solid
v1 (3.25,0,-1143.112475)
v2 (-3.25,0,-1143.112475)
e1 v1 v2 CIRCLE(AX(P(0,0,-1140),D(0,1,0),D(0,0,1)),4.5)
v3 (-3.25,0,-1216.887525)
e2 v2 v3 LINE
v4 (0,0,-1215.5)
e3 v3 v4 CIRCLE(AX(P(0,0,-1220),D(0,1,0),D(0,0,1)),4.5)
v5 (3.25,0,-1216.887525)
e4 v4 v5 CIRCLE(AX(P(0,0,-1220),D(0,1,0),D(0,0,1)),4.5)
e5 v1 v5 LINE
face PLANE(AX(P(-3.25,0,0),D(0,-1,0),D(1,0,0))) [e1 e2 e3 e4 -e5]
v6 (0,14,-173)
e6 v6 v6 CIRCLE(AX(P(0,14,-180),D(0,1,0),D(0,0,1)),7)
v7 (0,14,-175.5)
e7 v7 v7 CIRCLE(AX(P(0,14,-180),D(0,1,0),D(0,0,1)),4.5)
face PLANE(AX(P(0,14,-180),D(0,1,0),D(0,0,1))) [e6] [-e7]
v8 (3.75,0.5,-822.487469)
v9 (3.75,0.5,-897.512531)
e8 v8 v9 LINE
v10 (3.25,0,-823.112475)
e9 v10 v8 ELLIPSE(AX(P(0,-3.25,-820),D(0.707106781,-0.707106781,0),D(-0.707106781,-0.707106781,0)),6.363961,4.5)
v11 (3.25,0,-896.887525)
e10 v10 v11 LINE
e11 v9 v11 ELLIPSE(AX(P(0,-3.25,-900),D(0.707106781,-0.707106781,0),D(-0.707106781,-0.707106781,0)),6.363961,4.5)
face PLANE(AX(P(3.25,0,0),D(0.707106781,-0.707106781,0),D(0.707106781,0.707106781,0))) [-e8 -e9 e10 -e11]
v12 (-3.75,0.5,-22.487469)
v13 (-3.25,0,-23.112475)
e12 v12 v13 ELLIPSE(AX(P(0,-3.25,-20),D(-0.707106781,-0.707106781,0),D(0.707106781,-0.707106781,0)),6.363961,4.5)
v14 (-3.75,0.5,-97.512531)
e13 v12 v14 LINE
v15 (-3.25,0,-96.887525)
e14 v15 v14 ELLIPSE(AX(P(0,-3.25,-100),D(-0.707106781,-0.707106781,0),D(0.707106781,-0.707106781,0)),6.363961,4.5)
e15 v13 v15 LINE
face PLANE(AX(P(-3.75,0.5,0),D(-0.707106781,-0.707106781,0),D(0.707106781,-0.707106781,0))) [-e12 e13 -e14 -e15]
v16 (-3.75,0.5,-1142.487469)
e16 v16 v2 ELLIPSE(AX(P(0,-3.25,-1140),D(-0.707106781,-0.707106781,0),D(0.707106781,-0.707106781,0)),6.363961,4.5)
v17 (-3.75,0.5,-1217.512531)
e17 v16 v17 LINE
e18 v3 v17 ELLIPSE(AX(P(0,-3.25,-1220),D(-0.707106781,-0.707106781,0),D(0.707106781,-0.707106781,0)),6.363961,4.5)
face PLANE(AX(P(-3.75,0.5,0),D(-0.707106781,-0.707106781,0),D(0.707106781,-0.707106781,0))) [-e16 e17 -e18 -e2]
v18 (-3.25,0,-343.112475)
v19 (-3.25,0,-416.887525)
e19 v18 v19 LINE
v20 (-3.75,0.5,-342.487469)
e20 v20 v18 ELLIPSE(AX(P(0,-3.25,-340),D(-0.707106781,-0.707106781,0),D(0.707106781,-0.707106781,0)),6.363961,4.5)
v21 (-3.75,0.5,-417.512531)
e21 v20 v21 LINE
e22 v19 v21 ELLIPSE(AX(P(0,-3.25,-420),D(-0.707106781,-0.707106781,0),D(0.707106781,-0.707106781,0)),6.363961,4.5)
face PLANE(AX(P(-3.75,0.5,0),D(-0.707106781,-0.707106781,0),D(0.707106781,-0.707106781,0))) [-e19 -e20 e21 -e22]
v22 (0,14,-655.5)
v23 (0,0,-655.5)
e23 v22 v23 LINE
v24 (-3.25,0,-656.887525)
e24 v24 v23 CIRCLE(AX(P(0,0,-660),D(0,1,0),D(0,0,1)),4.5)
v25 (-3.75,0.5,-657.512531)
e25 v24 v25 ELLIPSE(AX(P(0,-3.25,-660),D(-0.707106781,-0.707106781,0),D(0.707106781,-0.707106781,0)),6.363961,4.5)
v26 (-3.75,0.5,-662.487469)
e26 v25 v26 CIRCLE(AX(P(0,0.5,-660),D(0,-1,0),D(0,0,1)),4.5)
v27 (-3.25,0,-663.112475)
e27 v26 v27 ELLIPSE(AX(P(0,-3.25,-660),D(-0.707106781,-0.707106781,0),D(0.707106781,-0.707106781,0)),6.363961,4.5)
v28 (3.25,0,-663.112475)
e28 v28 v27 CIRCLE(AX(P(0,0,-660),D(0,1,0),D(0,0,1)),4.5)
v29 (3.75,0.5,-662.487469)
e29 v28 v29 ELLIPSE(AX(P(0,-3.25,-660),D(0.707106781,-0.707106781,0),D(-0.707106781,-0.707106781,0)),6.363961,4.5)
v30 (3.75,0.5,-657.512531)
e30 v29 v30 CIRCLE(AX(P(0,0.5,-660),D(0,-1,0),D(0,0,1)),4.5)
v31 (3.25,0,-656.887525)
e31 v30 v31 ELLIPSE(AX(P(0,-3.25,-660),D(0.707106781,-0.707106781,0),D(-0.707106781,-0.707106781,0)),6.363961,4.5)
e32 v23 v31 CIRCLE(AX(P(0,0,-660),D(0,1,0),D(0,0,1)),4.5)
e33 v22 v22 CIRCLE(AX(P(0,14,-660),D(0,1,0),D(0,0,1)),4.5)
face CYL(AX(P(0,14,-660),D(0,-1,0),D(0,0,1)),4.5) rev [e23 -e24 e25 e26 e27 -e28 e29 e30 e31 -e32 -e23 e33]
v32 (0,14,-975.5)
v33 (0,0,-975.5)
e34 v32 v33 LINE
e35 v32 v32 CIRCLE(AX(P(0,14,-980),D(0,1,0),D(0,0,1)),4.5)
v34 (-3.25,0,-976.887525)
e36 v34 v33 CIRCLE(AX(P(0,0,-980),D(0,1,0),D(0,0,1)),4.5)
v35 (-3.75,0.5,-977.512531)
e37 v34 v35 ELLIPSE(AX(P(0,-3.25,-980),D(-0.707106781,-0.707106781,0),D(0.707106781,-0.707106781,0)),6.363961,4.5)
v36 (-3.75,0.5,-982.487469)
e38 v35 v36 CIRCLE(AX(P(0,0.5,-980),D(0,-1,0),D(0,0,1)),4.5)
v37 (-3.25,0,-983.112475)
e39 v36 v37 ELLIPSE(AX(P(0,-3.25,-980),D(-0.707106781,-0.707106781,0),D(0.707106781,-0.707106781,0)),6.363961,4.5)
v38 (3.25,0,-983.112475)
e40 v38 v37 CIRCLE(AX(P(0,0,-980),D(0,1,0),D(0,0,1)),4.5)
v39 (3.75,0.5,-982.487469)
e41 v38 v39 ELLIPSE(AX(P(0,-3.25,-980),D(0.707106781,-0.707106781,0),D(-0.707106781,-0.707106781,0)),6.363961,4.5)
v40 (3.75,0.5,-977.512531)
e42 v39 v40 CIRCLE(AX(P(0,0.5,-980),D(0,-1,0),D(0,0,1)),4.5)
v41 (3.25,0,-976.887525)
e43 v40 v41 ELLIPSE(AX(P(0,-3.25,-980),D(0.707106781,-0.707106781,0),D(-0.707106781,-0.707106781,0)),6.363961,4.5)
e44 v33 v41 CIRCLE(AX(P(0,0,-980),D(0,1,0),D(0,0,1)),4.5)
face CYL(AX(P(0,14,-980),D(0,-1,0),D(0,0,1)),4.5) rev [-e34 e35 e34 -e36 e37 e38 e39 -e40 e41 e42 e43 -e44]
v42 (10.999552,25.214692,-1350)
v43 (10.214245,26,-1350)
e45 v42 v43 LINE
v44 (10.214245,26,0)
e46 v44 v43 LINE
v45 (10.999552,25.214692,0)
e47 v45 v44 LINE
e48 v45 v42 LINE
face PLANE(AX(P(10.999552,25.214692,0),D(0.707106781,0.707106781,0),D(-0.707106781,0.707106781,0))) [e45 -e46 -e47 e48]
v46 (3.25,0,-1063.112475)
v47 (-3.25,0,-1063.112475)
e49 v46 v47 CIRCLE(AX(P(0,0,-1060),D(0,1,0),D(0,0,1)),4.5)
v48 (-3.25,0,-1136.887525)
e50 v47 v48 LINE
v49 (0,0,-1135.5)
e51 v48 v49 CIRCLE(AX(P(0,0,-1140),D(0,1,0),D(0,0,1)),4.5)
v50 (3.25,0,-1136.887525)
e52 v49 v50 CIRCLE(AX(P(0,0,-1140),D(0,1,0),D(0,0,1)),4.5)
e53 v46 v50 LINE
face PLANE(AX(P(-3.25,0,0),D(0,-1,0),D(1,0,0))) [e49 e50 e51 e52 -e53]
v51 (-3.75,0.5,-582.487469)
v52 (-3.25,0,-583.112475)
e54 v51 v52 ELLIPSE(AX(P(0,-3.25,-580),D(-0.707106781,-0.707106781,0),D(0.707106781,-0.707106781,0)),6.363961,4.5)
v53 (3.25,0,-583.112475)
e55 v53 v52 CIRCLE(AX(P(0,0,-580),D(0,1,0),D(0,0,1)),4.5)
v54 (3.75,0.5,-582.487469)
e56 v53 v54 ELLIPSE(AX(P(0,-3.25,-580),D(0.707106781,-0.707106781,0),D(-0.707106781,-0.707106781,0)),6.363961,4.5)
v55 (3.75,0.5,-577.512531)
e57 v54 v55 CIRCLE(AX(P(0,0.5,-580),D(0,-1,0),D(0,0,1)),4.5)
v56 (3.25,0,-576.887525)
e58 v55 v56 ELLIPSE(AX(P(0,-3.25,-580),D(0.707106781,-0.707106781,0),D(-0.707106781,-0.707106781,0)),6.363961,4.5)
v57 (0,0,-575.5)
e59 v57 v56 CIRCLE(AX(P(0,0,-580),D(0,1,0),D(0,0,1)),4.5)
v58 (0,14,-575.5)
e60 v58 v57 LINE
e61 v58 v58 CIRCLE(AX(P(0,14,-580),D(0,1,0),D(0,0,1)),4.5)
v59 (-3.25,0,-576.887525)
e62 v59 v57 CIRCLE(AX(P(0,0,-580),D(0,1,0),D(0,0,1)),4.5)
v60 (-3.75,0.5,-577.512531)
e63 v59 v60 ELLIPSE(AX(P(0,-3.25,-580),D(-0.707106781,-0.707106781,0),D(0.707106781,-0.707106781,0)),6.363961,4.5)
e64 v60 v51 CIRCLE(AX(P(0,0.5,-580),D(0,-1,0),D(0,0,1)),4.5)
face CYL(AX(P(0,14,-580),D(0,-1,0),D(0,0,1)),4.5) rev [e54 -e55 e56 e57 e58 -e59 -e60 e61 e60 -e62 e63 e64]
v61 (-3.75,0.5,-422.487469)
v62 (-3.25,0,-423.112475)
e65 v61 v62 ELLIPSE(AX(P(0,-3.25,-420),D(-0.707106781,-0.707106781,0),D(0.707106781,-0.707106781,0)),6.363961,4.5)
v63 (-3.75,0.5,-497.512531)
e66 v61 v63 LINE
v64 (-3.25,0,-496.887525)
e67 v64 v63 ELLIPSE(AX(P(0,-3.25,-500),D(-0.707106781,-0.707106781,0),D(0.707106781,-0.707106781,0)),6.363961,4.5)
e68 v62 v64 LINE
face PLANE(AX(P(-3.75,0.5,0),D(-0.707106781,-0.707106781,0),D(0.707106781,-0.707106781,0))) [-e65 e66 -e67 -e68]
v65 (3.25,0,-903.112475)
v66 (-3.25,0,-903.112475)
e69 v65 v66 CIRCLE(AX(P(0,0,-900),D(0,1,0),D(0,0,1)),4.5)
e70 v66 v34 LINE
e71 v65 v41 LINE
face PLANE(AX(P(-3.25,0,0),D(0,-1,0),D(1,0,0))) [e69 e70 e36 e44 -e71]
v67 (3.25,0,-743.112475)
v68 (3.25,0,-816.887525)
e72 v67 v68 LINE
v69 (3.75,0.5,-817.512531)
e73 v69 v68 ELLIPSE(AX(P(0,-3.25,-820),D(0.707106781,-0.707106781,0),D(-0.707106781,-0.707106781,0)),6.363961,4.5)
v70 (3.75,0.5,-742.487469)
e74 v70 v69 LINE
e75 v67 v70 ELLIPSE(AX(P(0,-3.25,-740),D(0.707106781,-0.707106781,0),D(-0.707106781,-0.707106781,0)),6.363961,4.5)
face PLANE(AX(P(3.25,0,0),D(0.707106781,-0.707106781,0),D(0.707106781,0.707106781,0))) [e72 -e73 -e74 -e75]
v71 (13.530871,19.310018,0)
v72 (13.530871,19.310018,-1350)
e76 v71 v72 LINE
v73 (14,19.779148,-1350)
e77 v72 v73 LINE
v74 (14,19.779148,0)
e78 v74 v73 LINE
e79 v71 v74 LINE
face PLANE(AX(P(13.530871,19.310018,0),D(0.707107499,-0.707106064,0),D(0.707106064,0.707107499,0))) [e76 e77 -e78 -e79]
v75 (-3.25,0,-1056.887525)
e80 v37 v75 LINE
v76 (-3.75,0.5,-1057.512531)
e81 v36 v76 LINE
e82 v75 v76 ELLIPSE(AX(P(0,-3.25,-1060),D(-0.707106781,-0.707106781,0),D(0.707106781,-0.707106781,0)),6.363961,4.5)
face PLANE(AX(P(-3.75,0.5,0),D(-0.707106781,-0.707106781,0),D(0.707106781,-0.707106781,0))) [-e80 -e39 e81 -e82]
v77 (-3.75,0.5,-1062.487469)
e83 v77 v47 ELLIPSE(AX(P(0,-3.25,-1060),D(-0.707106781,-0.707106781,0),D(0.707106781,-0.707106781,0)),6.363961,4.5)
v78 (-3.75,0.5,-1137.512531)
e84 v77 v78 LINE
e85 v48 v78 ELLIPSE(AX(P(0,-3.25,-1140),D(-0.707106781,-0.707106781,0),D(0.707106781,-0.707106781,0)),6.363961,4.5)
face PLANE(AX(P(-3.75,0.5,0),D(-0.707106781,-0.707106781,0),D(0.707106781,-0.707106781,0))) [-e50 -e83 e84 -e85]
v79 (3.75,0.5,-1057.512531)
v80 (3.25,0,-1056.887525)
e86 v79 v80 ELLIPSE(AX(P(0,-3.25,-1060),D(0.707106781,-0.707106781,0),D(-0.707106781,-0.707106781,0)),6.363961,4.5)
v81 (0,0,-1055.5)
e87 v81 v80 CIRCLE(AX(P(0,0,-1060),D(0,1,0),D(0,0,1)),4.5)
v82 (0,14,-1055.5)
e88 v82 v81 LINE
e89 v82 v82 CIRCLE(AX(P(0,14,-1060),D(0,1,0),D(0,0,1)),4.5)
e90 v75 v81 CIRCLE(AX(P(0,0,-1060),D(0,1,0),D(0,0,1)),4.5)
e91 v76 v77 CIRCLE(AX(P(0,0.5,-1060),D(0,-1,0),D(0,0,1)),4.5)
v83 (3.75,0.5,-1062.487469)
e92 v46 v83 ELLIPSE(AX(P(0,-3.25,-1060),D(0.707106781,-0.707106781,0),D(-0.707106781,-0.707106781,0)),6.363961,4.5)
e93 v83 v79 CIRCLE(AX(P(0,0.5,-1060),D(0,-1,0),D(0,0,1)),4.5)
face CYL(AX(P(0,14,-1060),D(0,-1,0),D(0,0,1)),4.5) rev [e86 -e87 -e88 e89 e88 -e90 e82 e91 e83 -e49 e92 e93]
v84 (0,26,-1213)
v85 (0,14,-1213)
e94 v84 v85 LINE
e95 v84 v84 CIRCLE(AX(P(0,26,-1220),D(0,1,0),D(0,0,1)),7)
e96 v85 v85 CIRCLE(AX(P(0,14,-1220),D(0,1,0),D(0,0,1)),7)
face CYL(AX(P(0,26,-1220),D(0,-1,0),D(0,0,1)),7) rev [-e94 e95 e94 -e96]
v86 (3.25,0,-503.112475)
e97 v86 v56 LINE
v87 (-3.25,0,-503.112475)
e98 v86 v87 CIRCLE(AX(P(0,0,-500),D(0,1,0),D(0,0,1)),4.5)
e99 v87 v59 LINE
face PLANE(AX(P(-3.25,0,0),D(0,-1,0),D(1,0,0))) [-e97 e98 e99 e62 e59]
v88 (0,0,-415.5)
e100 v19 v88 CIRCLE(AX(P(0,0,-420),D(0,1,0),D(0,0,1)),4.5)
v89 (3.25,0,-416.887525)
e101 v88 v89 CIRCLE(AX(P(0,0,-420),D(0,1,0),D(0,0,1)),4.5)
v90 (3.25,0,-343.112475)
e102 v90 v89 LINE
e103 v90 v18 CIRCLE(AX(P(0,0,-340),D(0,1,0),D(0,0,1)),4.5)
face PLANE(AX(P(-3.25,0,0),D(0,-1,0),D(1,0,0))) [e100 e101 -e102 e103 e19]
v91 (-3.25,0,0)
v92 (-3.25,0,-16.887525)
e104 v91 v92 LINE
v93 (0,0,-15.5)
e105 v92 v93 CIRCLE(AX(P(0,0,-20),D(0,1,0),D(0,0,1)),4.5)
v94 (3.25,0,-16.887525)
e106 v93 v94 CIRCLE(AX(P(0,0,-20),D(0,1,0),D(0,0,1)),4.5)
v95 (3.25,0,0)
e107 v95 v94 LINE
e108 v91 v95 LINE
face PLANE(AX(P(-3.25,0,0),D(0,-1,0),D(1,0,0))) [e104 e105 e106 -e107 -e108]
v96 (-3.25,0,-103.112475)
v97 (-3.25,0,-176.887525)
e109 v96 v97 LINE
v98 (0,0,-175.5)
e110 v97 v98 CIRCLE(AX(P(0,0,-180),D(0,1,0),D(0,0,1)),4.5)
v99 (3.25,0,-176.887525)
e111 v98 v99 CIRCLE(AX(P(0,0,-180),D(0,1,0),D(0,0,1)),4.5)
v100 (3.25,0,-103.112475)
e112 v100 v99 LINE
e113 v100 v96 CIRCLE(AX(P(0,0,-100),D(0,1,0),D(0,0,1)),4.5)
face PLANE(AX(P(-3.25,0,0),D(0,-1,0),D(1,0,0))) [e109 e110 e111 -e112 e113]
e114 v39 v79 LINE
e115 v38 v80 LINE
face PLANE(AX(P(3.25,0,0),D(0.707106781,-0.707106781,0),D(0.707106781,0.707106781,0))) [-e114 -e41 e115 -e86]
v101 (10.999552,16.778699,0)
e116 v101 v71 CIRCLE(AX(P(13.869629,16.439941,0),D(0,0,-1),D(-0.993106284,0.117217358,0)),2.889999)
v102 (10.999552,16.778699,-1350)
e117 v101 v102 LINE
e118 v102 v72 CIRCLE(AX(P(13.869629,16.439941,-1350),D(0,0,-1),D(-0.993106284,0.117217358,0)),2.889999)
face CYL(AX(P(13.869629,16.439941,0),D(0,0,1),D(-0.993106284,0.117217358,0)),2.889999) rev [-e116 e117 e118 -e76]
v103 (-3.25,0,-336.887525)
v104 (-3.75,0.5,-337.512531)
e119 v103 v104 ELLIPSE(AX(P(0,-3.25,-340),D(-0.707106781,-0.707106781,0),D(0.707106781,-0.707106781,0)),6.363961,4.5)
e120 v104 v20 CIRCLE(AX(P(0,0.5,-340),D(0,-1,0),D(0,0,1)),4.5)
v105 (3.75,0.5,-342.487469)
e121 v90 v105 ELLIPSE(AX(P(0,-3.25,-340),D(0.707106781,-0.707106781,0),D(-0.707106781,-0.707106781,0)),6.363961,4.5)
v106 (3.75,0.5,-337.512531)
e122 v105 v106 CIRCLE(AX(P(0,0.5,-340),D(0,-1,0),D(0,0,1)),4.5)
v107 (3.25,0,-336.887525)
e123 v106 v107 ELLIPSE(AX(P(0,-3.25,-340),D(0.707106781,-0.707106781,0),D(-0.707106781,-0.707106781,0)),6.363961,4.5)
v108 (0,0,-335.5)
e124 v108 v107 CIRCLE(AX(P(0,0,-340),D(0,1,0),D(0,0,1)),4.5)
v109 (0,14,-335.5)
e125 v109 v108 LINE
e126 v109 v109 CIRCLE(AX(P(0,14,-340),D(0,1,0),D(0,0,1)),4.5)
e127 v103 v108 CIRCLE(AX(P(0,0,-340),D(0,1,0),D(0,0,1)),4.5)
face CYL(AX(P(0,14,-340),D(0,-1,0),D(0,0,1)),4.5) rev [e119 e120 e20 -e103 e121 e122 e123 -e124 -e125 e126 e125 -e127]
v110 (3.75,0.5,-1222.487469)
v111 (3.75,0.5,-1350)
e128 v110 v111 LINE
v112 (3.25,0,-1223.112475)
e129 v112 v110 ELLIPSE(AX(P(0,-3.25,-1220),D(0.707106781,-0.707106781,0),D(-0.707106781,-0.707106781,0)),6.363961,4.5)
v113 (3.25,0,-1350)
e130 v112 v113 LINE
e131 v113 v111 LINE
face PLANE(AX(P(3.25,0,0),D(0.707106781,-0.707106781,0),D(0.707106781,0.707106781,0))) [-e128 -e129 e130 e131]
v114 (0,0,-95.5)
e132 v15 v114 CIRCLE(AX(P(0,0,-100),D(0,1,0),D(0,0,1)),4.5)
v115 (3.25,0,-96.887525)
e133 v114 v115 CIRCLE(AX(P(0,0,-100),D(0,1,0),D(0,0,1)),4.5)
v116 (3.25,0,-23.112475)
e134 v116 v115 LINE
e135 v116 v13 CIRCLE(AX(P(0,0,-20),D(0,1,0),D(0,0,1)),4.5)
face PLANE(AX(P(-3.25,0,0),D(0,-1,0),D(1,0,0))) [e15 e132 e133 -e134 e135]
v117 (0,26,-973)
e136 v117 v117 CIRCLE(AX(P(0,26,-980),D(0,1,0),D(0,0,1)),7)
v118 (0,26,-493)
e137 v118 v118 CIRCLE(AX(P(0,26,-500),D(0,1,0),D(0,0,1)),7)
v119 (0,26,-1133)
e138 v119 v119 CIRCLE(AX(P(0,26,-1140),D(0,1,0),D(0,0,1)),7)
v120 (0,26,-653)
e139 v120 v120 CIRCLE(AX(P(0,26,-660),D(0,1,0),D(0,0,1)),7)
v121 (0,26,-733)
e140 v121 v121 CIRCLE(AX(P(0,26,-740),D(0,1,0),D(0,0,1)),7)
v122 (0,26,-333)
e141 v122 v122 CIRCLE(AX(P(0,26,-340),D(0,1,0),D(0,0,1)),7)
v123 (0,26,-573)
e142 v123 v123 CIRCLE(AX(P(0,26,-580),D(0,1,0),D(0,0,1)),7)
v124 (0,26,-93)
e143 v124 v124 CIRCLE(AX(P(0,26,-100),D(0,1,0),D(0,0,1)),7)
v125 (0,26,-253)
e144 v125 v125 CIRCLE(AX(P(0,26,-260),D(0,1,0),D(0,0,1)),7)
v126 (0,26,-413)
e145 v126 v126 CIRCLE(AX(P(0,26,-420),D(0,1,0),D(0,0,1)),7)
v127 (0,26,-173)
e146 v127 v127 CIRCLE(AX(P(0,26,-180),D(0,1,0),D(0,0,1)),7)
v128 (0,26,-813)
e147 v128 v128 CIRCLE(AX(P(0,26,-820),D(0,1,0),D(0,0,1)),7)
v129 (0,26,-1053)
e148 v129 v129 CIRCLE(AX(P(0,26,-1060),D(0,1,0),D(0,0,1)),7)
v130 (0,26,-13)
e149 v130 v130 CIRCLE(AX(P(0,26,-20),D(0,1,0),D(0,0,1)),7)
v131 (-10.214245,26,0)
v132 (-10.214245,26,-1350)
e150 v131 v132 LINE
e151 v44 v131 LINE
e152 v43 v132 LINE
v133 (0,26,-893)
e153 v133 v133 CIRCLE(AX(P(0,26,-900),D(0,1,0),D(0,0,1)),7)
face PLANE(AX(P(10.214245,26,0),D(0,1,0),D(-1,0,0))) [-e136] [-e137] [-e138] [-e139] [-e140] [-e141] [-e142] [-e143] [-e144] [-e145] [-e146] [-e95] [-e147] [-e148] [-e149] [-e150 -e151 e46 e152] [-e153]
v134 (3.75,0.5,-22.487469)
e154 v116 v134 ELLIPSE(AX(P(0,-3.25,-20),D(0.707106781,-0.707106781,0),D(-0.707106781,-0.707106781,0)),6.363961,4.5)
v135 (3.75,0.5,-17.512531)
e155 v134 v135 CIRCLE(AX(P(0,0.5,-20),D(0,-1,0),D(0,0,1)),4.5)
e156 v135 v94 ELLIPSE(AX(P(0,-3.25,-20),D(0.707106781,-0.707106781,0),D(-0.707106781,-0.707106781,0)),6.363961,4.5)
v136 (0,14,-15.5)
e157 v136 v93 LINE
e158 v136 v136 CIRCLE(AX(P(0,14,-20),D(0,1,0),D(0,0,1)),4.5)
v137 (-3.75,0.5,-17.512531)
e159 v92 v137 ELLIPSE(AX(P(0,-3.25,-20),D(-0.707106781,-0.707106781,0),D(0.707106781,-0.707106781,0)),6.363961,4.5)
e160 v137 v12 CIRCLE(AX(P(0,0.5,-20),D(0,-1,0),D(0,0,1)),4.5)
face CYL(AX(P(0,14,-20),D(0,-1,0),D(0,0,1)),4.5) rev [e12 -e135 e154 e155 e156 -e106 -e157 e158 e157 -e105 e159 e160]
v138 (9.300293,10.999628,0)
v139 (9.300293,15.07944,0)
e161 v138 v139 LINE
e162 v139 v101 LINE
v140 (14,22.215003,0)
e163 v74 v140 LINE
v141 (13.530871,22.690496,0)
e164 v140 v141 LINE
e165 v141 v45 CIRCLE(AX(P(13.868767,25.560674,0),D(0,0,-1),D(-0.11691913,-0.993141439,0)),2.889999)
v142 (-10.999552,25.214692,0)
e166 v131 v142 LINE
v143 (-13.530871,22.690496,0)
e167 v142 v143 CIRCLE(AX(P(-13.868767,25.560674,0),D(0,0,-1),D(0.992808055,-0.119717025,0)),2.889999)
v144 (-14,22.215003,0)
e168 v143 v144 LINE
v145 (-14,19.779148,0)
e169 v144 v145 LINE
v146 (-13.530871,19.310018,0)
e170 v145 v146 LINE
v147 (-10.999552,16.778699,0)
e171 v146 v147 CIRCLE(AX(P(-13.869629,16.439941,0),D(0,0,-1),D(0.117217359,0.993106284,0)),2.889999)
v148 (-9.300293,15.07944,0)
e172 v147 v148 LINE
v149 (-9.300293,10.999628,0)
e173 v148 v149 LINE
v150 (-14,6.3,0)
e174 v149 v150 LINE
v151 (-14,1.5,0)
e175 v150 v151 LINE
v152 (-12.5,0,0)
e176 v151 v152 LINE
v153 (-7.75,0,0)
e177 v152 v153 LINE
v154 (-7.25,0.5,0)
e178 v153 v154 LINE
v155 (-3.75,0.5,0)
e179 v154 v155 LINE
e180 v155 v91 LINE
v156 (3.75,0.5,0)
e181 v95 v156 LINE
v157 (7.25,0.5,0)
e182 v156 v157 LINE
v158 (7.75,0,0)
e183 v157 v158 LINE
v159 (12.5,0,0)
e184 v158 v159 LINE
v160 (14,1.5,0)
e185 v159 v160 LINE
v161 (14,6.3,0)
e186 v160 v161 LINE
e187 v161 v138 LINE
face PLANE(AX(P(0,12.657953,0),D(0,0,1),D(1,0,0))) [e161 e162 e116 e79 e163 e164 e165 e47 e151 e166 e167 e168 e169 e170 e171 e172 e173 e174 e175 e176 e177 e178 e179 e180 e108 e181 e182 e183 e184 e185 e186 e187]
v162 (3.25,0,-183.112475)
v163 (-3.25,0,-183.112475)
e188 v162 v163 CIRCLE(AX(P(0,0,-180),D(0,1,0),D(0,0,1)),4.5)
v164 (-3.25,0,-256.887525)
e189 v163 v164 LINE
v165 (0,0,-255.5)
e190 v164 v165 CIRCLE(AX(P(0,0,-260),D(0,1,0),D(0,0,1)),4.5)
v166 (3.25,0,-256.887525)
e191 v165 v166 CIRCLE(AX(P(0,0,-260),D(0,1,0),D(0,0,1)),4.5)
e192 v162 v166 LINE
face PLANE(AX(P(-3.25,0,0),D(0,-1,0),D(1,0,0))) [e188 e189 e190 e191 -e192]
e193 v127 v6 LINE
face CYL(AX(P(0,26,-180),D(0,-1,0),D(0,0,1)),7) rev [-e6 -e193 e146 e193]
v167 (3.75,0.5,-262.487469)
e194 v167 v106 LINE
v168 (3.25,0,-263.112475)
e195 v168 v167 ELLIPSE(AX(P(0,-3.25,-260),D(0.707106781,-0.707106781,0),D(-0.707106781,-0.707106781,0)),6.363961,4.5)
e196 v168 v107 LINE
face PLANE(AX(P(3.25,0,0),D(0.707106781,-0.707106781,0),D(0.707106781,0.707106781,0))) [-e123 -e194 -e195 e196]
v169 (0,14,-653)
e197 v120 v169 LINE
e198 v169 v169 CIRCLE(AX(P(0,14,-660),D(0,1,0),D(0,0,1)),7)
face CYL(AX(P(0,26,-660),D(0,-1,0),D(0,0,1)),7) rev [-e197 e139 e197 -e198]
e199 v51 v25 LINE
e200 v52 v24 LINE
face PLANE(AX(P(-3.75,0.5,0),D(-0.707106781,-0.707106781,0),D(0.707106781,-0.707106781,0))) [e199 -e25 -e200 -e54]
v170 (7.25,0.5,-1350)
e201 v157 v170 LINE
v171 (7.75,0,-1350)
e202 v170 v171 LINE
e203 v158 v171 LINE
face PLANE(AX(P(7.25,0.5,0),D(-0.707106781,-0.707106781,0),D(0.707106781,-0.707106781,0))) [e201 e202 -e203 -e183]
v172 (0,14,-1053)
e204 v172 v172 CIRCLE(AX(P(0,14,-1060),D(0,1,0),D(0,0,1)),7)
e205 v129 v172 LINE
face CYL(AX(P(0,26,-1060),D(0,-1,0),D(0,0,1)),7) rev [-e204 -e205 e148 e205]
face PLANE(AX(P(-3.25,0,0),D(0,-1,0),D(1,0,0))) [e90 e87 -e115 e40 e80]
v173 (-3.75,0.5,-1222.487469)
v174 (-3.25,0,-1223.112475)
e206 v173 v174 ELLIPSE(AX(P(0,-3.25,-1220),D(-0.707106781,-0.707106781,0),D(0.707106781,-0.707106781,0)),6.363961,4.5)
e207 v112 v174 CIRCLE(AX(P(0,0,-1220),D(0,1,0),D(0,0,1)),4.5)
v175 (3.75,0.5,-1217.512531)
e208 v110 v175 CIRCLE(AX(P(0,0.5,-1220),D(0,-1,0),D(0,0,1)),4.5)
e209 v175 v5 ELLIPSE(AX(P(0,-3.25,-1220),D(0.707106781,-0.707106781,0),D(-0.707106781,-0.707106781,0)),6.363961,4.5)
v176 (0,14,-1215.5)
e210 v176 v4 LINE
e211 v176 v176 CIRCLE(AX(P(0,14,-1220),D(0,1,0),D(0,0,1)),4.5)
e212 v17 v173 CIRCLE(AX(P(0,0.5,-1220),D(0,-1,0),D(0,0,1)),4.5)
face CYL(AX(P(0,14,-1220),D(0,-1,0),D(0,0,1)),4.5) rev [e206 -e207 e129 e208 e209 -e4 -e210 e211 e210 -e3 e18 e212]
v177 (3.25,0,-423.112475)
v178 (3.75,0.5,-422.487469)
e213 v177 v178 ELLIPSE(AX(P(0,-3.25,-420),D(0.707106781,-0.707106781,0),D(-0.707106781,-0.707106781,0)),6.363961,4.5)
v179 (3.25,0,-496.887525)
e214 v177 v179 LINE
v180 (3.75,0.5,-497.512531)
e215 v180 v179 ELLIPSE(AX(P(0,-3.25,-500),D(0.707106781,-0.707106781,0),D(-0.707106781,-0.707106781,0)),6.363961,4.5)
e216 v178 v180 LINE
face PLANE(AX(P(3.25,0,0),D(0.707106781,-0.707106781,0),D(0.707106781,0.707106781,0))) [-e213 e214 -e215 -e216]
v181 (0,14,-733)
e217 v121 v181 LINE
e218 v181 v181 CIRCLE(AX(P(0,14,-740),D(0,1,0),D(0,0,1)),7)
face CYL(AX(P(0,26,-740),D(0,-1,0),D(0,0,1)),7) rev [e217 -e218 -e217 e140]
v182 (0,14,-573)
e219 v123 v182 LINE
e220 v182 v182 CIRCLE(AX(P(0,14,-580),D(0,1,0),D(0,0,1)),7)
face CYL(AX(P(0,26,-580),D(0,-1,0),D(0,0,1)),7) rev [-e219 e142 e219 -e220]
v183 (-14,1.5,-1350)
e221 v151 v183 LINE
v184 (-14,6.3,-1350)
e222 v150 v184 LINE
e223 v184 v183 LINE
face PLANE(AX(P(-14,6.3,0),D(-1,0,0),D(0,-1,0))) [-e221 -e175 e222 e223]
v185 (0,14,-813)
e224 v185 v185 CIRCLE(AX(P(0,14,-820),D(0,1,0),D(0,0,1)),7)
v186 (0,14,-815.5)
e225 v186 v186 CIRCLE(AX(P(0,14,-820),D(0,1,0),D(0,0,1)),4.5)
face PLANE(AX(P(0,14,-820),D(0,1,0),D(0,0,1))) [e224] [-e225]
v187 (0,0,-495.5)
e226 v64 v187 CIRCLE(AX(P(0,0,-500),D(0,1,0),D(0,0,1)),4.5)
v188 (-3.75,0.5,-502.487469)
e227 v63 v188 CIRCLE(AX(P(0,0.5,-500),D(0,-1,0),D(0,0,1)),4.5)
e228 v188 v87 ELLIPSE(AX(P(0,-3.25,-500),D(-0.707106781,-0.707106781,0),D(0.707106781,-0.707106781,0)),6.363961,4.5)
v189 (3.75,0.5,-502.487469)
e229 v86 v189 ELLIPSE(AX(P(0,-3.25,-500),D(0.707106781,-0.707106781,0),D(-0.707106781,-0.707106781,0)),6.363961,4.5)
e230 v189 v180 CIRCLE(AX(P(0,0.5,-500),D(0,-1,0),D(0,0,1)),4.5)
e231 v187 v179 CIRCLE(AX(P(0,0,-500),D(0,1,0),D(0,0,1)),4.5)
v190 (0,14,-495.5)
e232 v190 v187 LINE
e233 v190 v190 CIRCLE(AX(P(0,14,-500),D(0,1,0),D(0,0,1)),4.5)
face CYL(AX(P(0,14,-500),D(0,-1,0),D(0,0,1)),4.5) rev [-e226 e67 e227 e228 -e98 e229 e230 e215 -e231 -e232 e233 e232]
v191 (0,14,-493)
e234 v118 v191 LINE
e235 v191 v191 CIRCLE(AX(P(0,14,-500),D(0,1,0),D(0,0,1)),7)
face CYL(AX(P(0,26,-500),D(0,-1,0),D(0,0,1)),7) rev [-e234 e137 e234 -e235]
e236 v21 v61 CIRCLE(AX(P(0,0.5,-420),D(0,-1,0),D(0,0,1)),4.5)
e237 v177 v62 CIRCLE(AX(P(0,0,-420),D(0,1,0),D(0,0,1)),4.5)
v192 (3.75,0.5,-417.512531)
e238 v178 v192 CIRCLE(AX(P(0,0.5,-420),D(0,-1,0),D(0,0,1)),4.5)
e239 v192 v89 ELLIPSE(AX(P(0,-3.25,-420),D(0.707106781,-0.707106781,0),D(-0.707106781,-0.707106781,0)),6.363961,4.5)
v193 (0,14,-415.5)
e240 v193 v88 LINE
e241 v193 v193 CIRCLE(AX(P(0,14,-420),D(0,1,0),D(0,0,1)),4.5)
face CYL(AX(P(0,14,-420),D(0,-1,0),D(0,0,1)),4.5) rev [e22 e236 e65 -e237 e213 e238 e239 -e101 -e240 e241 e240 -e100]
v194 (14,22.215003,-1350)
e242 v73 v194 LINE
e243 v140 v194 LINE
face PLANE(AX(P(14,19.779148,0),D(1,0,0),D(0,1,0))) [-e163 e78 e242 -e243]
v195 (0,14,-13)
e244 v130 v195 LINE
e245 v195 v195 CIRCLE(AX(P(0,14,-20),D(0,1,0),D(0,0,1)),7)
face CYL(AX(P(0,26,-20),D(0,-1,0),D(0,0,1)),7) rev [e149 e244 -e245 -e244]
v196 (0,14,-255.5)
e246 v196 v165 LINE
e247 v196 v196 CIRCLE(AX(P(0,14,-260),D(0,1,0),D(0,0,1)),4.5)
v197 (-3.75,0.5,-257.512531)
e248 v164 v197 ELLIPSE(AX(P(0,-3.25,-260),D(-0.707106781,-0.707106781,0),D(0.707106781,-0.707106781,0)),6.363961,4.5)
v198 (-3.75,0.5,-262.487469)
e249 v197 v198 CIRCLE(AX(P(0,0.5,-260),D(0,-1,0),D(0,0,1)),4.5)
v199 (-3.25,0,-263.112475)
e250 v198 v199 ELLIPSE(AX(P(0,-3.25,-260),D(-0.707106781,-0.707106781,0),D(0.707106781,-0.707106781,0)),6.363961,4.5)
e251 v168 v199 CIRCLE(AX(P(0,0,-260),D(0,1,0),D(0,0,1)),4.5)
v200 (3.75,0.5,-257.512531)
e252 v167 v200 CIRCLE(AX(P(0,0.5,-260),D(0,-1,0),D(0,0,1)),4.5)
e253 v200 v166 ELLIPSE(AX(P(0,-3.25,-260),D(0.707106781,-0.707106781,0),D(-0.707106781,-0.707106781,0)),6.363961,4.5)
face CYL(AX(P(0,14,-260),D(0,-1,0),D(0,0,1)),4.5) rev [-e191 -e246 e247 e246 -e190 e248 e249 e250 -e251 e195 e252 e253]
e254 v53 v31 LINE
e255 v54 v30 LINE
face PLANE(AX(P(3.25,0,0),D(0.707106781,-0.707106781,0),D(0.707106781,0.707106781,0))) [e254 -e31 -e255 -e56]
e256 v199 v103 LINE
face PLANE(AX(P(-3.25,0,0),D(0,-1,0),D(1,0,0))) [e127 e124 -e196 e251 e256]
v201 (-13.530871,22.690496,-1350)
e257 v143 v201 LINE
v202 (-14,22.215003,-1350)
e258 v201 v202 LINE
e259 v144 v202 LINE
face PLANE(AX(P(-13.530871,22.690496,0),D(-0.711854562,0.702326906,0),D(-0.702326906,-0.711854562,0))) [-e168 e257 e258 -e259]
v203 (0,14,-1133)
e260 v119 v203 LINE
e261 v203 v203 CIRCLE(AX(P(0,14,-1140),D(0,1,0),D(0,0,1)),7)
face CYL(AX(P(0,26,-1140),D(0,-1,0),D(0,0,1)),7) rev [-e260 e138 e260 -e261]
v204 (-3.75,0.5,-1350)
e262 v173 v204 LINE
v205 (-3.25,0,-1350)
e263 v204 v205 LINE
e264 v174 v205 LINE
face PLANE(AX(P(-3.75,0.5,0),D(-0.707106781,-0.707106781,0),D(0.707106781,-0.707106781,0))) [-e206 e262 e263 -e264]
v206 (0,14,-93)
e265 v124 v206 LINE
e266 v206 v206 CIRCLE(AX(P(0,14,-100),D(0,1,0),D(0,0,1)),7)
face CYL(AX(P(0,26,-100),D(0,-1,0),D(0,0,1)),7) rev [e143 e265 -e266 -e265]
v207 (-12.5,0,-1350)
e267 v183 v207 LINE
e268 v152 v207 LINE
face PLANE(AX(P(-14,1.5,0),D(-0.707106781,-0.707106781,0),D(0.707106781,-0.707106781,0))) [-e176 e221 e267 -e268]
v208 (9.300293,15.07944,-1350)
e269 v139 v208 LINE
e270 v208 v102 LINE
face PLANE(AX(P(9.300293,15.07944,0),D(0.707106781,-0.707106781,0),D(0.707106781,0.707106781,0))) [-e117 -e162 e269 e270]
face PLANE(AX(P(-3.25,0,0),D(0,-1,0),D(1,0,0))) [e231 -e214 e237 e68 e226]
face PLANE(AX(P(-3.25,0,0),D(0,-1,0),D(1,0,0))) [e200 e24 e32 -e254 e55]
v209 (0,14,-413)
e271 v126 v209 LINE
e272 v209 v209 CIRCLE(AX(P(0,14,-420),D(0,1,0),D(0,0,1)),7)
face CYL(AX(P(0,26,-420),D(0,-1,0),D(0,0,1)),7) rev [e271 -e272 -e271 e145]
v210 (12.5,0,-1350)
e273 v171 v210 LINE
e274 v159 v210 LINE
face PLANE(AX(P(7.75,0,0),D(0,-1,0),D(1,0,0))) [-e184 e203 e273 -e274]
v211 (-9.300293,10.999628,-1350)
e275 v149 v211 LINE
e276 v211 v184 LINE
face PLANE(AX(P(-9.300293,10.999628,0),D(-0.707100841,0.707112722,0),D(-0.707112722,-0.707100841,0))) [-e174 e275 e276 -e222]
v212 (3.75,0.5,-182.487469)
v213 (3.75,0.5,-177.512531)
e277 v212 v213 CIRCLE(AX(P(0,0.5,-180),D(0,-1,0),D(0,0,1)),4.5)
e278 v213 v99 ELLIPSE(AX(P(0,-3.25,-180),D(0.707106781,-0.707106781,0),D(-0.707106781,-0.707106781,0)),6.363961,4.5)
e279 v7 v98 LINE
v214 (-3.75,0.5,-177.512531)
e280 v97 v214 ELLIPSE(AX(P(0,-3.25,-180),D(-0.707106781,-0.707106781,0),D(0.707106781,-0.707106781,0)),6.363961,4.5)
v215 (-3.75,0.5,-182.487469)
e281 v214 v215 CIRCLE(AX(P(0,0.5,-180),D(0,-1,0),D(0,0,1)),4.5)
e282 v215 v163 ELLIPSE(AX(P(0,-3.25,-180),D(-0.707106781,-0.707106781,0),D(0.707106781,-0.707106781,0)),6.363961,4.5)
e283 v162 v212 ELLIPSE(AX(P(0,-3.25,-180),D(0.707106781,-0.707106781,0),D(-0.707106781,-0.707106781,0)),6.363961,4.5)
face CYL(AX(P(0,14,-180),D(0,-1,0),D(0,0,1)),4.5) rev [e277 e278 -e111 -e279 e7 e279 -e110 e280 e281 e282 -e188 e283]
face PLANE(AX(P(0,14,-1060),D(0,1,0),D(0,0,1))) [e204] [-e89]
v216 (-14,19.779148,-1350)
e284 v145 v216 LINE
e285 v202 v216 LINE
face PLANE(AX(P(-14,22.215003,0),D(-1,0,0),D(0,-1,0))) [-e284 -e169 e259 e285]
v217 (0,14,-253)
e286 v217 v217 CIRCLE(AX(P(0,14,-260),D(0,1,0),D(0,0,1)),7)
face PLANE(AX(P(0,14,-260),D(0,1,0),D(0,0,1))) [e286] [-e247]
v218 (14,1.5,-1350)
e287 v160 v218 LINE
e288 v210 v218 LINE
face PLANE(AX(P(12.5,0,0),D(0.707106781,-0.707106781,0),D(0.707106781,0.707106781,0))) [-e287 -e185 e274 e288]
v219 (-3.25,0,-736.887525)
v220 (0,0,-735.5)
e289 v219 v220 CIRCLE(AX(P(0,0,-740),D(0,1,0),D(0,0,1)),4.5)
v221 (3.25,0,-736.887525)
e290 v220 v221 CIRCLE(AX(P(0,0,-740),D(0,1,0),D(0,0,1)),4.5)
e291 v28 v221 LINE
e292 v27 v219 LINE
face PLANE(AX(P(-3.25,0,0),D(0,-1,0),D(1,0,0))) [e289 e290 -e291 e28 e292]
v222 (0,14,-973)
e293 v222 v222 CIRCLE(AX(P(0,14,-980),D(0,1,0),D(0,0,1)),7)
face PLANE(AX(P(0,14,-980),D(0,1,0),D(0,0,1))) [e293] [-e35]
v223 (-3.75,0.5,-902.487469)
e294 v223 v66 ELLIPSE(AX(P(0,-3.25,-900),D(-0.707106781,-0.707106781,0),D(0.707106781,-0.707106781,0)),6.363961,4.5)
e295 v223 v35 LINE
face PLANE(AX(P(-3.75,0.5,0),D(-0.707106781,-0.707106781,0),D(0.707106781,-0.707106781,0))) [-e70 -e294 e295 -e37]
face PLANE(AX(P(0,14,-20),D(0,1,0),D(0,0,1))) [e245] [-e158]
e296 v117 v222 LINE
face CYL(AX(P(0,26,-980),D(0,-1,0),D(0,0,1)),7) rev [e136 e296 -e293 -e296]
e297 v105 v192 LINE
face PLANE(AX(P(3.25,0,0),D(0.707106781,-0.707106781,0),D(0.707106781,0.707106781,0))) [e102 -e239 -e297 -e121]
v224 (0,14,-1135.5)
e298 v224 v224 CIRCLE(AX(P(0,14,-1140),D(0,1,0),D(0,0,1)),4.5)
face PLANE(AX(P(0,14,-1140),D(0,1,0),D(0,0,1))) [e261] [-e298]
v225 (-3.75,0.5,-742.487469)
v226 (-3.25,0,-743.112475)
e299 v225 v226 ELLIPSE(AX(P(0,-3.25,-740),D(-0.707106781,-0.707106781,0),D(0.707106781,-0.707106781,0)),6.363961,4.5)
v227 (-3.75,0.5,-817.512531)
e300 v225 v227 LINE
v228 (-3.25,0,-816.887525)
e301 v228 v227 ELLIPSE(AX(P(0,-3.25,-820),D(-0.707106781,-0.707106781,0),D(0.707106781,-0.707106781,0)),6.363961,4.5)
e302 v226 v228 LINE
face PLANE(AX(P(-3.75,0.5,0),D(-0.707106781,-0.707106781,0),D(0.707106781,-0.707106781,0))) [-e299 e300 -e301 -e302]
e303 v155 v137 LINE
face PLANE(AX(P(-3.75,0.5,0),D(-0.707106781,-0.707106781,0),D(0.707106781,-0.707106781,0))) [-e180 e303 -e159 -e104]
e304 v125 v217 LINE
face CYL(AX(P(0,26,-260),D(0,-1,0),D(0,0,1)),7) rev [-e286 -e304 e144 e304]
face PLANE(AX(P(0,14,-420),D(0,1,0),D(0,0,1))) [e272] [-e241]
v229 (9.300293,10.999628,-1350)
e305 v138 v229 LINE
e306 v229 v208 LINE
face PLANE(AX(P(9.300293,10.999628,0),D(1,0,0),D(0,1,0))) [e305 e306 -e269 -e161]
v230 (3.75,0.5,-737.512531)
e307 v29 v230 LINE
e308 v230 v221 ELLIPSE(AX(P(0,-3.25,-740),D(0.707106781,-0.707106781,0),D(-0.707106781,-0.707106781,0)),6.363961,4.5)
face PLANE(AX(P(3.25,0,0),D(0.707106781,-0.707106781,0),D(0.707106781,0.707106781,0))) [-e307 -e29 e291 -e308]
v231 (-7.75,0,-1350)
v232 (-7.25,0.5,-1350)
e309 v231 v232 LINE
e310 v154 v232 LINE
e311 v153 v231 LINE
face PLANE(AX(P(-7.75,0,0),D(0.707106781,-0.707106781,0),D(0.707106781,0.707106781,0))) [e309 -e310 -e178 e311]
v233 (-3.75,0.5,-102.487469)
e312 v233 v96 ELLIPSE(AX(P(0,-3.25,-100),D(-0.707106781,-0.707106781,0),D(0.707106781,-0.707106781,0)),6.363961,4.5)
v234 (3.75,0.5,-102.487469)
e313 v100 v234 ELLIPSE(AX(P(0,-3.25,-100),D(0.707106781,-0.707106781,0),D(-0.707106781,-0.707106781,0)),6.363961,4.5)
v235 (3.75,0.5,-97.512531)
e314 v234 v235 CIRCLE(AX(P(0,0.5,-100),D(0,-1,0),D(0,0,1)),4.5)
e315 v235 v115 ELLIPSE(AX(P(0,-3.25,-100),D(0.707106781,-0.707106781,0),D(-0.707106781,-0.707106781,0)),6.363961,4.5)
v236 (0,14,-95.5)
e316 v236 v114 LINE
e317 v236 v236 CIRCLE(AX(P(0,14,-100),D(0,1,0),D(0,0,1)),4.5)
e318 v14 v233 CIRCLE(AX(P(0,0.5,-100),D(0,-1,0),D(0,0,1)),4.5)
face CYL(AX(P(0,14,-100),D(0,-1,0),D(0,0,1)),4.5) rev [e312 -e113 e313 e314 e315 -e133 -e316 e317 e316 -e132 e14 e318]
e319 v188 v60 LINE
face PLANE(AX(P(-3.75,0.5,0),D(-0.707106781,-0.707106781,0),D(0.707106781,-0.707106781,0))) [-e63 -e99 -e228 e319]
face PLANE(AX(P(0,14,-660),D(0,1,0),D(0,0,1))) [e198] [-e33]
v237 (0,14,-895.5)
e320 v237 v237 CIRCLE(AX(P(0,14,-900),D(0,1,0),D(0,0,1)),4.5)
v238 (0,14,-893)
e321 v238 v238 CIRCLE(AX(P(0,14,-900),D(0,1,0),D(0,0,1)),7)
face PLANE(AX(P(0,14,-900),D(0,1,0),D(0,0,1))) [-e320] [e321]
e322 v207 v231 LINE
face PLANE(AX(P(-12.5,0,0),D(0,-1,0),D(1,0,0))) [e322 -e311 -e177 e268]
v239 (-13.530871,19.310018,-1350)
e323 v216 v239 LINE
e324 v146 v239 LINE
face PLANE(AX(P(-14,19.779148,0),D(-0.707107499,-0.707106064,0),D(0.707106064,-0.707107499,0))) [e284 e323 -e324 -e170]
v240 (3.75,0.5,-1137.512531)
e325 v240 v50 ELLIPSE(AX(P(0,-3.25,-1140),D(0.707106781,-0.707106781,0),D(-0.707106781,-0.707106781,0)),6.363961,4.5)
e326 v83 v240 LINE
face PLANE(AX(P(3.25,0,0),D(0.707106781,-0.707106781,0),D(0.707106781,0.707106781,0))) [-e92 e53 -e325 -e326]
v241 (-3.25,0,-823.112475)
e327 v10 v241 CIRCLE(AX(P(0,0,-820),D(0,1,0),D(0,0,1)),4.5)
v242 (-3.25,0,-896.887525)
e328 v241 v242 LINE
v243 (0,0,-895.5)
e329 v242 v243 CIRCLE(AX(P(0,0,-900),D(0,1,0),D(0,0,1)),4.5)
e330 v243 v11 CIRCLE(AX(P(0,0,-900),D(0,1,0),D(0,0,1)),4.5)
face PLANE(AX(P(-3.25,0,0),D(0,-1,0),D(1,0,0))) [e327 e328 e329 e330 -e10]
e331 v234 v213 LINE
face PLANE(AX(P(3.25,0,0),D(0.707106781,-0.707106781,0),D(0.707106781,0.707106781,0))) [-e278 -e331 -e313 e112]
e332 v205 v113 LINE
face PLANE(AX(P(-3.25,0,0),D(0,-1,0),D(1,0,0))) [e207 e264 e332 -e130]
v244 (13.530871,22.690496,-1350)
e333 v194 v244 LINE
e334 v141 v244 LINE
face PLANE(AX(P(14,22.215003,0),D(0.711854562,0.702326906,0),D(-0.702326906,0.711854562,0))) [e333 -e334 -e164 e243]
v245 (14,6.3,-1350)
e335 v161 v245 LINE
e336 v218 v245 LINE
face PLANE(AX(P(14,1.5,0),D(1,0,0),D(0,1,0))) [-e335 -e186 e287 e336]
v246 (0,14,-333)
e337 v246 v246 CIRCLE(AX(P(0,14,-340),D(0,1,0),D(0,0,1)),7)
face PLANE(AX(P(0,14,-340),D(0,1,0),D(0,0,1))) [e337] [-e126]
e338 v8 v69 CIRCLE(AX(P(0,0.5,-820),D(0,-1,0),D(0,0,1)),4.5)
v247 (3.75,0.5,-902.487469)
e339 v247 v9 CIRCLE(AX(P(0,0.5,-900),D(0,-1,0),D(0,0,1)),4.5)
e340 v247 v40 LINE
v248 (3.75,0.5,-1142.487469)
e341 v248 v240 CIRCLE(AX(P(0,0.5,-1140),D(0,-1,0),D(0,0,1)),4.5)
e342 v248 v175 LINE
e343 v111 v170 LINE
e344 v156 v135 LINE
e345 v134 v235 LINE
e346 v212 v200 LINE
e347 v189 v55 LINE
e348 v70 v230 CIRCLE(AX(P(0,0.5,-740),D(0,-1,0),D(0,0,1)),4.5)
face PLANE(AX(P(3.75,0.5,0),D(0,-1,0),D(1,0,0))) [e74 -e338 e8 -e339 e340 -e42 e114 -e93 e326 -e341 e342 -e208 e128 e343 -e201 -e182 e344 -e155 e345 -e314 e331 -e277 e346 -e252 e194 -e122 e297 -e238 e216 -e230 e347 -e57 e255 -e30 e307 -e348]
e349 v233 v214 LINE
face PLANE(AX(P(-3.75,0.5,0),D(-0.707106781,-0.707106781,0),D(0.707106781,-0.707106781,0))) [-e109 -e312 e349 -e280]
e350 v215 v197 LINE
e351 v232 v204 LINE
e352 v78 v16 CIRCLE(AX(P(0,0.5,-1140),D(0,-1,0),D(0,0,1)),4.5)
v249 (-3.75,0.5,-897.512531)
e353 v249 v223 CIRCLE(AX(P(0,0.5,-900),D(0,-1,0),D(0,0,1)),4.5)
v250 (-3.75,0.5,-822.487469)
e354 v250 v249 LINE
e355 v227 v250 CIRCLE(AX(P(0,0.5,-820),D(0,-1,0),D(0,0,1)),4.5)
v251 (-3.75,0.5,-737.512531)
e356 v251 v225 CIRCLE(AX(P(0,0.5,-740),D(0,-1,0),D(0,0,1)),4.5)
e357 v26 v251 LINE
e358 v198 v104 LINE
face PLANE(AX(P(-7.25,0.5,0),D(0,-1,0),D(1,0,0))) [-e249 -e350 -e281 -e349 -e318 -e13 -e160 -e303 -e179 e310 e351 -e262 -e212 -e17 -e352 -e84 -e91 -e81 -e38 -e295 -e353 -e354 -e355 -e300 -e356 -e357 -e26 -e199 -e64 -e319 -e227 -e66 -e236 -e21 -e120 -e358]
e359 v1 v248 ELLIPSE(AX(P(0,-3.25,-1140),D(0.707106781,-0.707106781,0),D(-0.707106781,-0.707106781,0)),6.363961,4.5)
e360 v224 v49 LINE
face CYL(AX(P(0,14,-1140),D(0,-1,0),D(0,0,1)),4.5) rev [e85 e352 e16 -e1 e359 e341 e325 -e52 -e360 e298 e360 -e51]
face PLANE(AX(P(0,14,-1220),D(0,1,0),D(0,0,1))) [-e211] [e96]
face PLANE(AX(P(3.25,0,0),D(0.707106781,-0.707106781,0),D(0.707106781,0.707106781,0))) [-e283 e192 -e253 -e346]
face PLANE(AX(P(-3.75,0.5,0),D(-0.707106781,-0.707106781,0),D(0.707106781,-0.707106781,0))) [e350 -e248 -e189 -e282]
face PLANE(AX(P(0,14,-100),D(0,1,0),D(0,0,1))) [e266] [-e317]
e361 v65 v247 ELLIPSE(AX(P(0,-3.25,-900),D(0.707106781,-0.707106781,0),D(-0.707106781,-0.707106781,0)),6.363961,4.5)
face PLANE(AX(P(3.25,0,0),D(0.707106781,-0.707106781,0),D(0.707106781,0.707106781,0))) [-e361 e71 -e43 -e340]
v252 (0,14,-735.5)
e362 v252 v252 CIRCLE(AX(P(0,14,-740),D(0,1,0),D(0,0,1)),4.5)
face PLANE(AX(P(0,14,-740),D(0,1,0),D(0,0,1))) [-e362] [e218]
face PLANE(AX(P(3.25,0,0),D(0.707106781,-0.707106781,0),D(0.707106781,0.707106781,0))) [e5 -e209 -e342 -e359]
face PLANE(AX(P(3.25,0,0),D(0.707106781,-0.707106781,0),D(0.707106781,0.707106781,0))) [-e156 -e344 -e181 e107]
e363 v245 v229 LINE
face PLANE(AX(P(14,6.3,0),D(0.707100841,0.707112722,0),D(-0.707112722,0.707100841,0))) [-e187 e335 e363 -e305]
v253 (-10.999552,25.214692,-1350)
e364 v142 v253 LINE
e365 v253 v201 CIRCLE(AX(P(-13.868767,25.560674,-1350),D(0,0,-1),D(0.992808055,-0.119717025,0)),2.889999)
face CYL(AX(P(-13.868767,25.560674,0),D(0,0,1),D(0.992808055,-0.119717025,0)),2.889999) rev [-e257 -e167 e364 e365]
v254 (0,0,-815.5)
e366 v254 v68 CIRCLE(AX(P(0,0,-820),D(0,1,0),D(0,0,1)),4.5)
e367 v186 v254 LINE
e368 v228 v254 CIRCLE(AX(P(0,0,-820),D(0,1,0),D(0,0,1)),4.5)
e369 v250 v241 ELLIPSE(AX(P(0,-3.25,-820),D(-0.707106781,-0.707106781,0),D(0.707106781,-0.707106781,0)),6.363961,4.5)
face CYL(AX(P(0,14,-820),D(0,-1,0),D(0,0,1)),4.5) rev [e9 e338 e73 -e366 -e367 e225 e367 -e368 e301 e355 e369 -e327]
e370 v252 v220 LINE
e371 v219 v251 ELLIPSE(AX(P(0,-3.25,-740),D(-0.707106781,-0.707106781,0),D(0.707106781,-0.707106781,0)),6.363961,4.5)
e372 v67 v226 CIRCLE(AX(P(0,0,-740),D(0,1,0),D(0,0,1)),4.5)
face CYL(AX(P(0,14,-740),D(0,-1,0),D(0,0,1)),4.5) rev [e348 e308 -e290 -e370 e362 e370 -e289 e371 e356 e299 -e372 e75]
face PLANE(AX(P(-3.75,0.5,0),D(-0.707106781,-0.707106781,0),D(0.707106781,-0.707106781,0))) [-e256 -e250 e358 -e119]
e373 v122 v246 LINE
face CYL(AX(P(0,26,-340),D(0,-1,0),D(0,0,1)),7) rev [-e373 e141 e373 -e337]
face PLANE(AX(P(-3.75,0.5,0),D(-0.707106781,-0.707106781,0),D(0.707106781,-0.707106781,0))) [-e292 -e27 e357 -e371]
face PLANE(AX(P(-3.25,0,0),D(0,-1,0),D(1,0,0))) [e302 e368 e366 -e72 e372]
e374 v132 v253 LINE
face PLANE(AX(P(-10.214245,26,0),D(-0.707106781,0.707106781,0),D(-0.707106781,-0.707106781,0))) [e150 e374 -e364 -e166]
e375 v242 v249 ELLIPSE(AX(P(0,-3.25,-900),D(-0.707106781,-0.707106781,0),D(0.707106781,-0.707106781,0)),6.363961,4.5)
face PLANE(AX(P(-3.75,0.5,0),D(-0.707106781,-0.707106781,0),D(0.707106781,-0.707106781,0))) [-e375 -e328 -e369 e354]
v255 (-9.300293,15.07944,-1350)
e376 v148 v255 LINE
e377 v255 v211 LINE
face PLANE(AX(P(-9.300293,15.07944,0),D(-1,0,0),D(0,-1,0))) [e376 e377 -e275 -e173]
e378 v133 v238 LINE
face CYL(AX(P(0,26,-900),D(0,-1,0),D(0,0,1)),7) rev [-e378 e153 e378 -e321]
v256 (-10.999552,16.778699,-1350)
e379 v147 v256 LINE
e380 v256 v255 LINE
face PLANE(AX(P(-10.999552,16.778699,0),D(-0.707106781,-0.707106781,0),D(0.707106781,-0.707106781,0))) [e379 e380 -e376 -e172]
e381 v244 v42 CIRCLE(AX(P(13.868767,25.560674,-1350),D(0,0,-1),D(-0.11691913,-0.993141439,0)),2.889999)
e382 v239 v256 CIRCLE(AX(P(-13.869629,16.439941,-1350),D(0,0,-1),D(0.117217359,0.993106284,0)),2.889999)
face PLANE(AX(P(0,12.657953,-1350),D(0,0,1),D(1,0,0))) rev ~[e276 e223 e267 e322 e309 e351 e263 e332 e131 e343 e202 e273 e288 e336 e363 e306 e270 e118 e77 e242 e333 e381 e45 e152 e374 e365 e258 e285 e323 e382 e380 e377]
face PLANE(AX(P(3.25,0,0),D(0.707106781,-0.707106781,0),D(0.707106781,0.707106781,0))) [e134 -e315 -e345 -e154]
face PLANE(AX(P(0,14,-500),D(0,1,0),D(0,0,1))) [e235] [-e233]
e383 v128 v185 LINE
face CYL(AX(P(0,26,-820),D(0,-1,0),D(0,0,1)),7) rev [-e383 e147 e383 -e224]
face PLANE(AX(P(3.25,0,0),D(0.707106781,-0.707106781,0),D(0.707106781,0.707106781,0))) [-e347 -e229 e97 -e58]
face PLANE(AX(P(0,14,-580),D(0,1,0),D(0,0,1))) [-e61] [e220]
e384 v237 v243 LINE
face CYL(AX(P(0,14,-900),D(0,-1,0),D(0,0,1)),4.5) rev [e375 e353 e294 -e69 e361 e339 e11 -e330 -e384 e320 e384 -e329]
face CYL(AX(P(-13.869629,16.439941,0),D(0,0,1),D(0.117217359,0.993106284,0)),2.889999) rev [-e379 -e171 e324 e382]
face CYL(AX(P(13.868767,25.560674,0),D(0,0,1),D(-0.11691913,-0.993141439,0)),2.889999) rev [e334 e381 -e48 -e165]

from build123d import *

# Parameters (mm, degrees)
EXTRUDE1_DEPTH  = 1350
LPATTERN1_COUNT = 16
LPATTERN1_PITCH = 80


with BuildPart() as part:
    # Sketch1 → Extrude1 (new body)
    with BuildSketch(Plane(origin=(-20, 0, 0), x_dir=(1, 0, 0), z_dir=(0, 0, 1))):
        with BuildLine():
            Line((6, 22.215003013), (6, 19.779148101))
            Line((6, 19.779148101), (6.469129189, 19.31001796))
            ThreePointArc((6.469129189, 19.31001796), (8.17390926, 18.483479572), (9.000447648, 16.7786995))
            Line((9.000447648, 16.7786995), (10.699707031, 15.079440117))
            Line((10.699707031, 15.079440117), (10.699707031, 10.999628067))
            Line((10.699707031, 10.999628067), (6, 6.3))
            Line((6, 6.3), (6, 1.5))
            Line((6, 1.5), (7.5, 0))
            Line((7.5, 0), (12.25, 0))
            Line((12.25, 0), (12.75, 0.5))
            Line((12.75, 0.5), (16.25, 0.5))
            Line((16.25, 0.5), (16.75, 0))
            Line((16.75, 0), (23.25, 0))
            Line((23.25, 0), (23.75, 0.5))
            Line((23.75, 0.5), (27.25, 0.5))
            Line((27.25, 0.5), (27.75, 0))
            Line((27.75, 0), (32.5, 0))
            Line((32.5, 0), (34, 1.5))
            Line((34, 1.5), (34, 6.3))
            Line((34, 6.3), (29.300292969, 10.999628067))
            Line((29.300292969, 10.999628067), (29.300292969, 15.079440117))
            Line((29.300292969, 15.079440117), (30.999552352, 16.7786995))
            ThreePointArc((30.999552352, 16.7786995), (31.82609074, 18.483479572), (33.530870811, 19.31001796))
            Line((33.530870811, 19.31001796), (34, 19.779148101))
            Line((34, 19.779148101), (34, 22.215003013))
            Line((34, 22.215003013), (33.530870811, 22.690496335))
            ThreePointArc((33.530870811, 22.690496335), (31.828109913, 23.514259322), (30.999552352, 25.214692356))
            Line((30.999552352, 25.214692356), (30.214244708, 26))
            Line((30.214244708, 26), (9.785755292, 26))
            Line((9.785755292, 26), (9.000447648, 25.214692356))
            ThreePointArc((9.000447648, 25.214692356), (8.171890087, 23.514259322), (6.469129189, 22.690496335))
            Line((6.469129189, 22.690496335), (6, 22.215003013))
        make_face()
    extrude(amount=-EXTRUDE1_DEPTH)

    # Sketch2 → Cut-Revolve1 (revolve, cut)
    with BuildSketch(Plane(origin=(0, 0, 0), x_dir=(0, 0, -1), z_dir=(1, 0, 0))):
        Polygon((20, 26), (27, 26), (27, 14), (24.5, 14), (24.5, 0), (20, 0), align=None)
    cut_revolve1 = revolve(axis=Axis((0, 0, -20), (0, 1, 0)), mode=Mode.SUBTRACT)

    # LPattern1: Cut-Revolve1 ×16
    with Locations(*[(0, 0, -i * LPATTERN1_PITCH) for i in range(1, LPATTERN1_COUNT)]):
        add(cut_revolve1, mode=Mode.SUBTRACT)


solid = part.part
